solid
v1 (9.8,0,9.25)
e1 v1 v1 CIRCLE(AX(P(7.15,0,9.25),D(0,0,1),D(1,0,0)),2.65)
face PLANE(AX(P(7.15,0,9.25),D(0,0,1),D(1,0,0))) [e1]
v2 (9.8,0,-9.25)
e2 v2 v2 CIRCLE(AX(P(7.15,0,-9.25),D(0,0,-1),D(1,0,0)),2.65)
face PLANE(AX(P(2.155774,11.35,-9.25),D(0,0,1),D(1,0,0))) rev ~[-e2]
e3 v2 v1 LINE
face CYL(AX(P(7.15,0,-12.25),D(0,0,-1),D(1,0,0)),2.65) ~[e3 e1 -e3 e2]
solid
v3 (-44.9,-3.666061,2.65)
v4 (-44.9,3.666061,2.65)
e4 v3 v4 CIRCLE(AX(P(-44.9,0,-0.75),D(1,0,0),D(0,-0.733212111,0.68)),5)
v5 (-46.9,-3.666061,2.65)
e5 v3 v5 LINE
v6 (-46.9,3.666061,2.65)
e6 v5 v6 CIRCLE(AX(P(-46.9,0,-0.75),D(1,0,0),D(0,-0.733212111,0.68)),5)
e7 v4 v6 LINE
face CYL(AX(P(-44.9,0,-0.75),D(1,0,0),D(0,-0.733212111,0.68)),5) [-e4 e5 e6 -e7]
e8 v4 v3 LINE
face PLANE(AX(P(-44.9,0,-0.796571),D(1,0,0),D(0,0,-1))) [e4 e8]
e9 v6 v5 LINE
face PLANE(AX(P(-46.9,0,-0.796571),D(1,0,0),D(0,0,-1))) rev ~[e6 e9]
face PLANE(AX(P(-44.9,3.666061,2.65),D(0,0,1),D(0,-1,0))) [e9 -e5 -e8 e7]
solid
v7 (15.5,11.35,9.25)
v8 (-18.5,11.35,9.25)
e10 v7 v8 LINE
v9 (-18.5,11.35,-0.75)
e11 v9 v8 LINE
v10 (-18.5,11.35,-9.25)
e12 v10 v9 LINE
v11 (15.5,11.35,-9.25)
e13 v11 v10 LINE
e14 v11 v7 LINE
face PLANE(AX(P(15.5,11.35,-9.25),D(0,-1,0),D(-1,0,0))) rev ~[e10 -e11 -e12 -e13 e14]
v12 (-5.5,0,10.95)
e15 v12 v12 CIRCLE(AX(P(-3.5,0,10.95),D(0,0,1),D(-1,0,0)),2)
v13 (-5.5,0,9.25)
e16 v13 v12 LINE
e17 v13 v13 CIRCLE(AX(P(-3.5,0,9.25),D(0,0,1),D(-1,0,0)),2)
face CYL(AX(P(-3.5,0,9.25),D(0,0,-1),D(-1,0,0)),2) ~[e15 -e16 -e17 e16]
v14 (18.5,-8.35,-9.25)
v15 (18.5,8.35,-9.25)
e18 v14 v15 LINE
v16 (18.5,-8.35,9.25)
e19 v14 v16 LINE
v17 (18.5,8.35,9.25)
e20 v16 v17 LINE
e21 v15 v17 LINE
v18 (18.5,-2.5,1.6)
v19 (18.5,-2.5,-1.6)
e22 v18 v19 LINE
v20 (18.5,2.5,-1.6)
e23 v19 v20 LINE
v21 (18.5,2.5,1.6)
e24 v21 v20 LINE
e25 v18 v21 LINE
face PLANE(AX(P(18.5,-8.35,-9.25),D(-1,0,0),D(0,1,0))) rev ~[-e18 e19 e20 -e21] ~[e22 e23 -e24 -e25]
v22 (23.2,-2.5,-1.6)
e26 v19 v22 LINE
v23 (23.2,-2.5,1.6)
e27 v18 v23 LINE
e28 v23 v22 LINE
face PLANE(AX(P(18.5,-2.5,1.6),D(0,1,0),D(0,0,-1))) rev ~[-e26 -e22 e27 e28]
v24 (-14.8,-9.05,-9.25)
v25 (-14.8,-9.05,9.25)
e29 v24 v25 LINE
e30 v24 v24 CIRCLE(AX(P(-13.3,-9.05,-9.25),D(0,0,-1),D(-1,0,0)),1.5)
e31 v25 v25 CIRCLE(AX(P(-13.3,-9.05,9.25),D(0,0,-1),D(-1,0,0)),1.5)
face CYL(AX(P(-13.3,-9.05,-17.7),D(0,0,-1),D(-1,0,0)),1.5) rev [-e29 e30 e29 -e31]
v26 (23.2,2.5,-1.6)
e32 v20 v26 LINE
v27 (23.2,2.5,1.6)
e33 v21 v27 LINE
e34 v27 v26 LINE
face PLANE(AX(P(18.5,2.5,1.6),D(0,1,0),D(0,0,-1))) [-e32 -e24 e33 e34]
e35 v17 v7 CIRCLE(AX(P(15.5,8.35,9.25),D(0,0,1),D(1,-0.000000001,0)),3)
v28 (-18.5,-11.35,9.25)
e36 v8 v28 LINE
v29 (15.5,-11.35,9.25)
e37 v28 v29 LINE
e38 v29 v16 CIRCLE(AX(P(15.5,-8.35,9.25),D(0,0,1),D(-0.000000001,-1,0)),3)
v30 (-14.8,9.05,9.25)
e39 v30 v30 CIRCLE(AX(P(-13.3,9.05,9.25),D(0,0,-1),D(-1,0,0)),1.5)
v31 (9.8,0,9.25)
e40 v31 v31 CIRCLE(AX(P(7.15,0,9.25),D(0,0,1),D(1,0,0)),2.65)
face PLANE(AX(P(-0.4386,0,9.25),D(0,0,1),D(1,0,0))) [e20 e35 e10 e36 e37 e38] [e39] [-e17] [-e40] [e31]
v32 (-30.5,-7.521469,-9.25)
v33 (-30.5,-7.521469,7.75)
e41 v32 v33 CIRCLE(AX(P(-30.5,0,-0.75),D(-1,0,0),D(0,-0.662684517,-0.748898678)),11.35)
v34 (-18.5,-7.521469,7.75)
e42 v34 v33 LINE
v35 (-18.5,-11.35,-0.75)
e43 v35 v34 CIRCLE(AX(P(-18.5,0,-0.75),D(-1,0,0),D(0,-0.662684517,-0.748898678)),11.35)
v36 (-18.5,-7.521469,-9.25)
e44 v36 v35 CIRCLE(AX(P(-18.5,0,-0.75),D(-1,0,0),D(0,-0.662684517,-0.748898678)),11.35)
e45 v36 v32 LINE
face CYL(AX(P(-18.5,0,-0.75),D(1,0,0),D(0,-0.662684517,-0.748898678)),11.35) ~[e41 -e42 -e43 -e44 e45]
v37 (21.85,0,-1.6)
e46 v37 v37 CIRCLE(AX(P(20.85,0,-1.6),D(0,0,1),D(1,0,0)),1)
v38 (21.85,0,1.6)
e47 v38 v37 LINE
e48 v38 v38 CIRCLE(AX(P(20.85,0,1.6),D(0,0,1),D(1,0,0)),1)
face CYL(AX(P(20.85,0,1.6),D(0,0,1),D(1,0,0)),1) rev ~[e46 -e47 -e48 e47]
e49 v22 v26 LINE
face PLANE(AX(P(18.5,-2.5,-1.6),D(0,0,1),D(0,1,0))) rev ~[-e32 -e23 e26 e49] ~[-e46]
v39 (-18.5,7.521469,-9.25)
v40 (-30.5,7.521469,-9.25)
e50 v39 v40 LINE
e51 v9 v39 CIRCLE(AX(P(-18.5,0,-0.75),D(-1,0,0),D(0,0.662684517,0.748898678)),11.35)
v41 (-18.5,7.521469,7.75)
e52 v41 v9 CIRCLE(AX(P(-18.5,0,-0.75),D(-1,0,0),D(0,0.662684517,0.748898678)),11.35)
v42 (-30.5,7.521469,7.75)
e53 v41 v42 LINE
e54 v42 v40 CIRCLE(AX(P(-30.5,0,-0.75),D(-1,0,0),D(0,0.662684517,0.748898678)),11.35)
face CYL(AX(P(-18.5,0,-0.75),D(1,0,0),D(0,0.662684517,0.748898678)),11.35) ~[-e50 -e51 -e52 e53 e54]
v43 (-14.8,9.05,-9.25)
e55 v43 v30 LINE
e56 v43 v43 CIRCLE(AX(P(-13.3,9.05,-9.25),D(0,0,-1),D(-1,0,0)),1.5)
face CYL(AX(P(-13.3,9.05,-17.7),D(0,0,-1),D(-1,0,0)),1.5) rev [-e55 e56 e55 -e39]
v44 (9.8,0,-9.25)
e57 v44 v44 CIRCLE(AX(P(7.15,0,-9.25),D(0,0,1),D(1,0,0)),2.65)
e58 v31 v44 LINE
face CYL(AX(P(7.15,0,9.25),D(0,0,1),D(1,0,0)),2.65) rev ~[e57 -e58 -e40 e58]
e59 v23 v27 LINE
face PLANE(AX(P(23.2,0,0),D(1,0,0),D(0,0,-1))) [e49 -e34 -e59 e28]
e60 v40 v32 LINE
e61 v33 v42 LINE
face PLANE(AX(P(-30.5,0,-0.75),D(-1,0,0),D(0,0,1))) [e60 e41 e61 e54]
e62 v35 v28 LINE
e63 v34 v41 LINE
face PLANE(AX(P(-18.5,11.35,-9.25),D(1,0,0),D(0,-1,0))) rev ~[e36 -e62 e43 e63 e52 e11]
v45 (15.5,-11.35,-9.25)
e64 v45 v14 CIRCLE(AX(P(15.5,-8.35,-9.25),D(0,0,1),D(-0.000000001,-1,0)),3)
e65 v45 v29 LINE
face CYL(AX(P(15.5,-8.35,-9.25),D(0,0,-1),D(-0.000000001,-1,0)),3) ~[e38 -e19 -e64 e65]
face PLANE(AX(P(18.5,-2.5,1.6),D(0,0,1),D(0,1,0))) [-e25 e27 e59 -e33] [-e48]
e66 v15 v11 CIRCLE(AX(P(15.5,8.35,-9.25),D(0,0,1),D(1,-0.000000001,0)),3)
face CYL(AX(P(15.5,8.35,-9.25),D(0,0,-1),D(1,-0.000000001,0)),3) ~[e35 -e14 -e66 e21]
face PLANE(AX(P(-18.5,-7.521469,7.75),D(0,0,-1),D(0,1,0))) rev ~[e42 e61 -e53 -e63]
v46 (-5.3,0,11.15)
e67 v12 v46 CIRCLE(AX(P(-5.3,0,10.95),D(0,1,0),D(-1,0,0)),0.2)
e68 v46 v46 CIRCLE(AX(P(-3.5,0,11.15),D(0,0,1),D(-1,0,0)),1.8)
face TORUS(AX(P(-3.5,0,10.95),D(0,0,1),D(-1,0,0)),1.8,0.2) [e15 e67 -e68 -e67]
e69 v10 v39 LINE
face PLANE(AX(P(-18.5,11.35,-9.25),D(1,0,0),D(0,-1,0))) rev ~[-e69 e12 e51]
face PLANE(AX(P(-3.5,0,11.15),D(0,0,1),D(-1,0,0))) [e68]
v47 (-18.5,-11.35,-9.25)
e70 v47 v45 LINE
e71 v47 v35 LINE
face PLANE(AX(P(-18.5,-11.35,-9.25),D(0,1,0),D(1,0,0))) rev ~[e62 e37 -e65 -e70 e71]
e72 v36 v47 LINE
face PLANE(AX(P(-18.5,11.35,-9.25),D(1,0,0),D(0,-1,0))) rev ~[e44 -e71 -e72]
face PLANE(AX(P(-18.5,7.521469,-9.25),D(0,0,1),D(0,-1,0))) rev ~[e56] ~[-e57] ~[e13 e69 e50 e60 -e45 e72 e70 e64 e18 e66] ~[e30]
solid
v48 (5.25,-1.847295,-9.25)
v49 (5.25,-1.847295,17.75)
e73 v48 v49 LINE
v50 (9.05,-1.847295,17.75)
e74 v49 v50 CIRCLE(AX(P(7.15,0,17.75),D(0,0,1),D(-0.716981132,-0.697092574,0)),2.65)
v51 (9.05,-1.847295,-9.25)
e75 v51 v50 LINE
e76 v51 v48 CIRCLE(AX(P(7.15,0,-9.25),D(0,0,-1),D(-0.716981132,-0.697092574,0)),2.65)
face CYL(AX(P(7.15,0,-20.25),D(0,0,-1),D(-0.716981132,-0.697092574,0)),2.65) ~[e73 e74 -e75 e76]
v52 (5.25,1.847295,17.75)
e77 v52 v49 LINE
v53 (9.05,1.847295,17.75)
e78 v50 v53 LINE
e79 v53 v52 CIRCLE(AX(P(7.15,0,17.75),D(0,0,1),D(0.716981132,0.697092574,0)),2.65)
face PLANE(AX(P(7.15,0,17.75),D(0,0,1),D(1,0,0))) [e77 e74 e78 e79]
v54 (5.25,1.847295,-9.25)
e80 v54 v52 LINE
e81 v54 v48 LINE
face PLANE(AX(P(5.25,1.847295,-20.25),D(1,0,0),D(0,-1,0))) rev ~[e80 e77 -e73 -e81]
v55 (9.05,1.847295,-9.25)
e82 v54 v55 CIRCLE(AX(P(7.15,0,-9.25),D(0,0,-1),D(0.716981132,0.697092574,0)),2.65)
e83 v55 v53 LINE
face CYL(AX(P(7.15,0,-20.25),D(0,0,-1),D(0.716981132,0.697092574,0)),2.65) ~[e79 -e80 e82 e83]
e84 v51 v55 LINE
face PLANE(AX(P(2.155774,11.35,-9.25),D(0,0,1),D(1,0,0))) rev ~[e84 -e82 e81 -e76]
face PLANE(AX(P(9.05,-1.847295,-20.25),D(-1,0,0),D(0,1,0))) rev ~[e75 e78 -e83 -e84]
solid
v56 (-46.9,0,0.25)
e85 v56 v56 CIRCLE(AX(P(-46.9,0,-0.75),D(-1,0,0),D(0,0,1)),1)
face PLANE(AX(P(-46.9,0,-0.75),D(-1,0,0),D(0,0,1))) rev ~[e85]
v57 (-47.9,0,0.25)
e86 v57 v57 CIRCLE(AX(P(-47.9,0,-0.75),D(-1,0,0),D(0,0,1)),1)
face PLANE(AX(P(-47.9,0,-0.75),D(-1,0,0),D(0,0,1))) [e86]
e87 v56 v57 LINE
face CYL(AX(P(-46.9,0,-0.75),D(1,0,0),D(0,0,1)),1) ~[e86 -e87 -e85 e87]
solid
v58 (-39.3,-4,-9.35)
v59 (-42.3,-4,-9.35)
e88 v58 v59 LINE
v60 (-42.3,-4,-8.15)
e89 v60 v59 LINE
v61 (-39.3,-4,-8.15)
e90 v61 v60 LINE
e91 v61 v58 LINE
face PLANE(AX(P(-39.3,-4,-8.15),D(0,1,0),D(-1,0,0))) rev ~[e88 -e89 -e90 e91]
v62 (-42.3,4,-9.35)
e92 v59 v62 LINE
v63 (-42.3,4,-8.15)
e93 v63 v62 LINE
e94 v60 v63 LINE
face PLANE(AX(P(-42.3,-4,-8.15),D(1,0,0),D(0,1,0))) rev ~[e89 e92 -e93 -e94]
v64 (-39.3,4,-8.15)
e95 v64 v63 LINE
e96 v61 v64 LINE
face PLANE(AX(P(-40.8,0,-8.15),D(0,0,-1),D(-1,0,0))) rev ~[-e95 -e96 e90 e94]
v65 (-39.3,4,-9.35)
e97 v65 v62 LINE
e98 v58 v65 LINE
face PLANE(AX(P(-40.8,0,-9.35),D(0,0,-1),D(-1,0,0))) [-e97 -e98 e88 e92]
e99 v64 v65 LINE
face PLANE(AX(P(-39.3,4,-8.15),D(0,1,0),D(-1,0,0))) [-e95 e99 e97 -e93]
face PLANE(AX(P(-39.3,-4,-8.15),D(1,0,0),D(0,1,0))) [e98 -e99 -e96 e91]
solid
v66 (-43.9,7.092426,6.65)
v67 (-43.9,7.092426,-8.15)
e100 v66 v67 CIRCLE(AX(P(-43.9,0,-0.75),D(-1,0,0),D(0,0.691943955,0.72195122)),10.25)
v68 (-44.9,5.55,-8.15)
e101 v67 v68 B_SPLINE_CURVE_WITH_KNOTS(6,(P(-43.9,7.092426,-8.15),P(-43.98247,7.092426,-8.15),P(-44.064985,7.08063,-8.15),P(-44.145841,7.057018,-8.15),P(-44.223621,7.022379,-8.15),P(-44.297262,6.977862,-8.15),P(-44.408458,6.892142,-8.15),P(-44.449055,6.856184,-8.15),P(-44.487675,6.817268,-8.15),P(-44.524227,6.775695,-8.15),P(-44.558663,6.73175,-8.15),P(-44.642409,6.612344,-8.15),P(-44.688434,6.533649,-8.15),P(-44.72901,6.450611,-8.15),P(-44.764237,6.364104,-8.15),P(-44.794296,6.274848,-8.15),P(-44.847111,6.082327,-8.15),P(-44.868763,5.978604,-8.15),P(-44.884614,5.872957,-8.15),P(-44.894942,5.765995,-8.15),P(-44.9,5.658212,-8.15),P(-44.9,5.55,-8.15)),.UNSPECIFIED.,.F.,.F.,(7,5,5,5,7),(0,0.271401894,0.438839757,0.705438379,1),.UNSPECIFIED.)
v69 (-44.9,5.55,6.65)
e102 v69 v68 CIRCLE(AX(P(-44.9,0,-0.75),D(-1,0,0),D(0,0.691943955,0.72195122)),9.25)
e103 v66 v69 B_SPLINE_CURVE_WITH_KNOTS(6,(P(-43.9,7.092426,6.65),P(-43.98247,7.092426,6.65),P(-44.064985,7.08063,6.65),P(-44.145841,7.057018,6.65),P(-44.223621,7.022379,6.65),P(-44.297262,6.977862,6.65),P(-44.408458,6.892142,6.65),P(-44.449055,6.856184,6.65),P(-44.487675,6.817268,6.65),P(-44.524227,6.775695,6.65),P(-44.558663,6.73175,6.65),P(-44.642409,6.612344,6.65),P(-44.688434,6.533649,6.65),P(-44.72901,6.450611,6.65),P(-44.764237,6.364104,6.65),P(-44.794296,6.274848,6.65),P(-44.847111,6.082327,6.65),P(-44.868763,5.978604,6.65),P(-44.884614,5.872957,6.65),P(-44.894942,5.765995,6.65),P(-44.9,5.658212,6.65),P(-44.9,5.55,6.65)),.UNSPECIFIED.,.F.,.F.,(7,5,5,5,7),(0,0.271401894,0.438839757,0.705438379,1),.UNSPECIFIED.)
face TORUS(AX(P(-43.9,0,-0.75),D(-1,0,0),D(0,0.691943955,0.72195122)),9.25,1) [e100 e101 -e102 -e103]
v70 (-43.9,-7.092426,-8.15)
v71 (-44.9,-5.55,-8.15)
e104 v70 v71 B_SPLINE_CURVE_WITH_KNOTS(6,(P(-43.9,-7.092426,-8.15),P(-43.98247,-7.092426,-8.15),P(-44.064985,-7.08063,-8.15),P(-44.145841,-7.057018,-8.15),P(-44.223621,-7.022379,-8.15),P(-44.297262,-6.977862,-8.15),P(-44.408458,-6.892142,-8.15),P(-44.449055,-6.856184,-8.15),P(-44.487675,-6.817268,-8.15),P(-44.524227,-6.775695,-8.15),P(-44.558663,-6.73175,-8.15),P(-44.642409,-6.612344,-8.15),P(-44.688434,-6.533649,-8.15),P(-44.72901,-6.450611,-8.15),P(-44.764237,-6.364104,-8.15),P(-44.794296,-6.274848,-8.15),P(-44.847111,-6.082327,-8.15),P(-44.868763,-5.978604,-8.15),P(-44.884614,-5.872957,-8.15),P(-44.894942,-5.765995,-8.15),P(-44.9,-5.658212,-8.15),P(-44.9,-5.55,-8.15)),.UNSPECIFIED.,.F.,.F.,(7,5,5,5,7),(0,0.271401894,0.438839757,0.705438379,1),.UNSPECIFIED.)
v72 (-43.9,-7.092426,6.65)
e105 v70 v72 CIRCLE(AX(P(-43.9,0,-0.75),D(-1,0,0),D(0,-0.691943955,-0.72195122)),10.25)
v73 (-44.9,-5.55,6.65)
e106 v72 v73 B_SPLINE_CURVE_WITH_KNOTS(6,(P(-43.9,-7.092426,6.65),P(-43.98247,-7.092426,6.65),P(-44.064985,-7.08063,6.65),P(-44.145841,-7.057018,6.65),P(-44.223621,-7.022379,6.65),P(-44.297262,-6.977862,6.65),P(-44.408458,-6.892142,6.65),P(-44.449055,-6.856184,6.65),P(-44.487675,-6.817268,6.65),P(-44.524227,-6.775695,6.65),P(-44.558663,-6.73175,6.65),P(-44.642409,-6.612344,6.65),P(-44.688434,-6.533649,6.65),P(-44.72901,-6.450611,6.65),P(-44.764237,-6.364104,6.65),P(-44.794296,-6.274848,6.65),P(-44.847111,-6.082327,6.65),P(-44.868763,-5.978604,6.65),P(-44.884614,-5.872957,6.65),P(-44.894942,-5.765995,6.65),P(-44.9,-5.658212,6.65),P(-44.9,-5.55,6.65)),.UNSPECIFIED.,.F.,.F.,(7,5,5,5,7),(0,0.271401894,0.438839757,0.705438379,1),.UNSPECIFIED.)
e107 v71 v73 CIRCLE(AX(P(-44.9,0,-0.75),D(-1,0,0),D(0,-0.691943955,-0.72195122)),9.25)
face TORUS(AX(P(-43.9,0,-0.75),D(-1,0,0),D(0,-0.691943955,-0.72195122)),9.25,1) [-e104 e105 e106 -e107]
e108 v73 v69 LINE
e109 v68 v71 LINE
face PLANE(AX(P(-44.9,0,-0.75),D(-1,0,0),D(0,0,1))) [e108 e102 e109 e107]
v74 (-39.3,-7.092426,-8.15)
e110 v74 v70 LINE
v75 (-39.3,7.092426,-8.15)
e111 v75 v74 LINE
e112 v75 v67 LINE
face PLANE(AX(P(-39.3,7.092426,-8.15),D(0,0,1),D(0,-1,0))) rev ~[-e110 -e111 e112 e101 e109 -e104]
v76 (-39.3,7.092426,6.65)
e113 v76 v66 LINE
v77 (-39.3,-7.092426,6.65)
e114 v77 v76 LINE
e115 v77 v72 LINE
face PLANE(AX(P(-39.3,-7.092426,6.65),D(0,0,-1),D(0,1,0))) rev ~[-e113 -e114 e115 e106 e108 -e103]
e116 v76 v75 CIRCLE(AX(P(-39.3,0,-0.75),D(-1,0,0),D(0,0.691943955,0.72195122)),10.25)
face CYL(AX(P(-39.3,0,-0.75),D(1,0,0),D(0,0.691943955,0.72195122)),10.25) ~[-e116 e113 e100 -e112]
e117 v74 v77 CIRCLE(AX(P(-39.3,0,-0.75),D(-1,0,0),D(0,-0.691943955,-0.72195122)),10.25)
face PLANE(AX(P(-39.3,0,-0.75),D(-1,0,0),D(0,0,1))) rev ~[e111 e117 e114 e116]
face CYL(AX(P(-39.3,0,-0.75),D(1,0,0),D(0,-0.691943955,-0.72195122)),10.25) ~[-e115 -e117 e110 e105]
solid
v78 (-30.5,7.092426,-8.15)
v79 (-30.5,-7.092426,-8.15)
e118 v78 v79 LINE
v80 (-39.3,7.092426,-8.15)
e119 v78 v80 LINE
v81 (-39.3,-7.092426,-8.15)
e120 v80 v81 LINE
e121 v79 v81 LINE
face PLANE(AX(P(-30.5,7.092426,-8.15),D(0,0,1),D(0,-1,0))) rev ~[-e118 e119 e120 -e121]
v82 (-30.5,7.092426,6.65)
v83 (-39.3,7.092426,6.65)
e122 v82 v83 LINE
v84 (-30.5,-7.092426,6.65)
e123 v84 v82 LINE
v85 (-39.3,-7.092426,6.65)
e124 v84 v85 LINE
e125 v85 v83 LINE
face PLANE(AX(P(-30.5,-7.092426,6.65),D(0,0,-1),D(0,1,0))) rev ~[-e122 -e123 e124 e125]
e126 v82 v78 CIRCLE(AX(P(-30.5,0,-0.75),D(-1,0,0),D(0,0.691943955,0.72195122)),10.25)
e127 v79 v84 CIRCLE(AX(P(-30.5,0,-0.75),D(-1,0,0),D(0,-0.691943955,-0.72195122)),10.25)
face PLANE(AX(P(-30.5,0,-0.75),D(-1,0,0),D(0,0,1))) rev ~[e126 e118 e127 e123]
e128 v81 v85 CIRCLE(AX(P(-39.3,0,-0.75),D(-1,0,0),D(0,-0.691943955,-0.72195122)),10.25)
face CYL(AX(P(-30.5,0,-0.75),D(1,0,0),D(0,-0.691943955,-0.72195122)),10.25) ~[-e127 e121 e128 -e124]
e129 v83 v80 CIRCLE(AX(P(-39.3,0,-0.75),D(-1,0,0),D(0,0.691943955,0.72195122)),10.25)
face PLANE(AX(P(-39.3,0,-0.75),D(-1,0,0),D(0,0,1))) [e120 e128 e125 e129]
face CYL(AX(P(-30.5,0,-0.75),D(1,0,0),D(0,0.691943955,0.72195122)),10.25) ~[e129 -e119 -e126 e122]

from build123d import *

# Parameters (mm, degrees)
SALIENTE_EXTRUIR1_DEPTH       = 9.25
SALIENTE_EXTRUIR1_DEPTH_BACK  = 9.25
SALIENTE_EXTRUIR2_DEPTH       = 12
CROQUIS3_W                    = 3.2
CROQUIS3_H                    = 5
SALIENTE_EXTRUIR3_DEPTH       = 4.7
CORTAR_EXTRUIR1_DEPTH         = 28
CORTAR_EXTRUIR1_DEPTH_BACK    = 17.7
CROQUIS4_R                    = 1.5
CROQUIS5_R                    = 2
SALIENTE_EXTRUIR4_DEPTH       = 1.9
REDONDEO1_R                   = 0.2
CROQUIS6_R                    = 2.65
CORTAR_EXTRUIR2_DEPTH         = 23.9
SALIENTE_EXTRUIR5_DEPTH       = 8.8
SALIENTE_EXTRUIR6_DEPTH       = 5.6
REDONDEO2_R                   = 1
SALIENTE_EXTRUIR7_DEPTH       = 2
CROQUIS12_R                   = 1
SALIENTE_EXTRUIR8_DEPTH       = 1
CROQUIS13_W                   = 3
CROQUIS13_H                   = 8
SALIENTE_EXTRUIR9_DEPTH       = 1.2
CROQUIS14_R                   = 1
CORTAR_EXTRUIR3_DEPTH         = 4.2
SALIENTE_EXTRUIR10_DEPTH      = 17.75
SALIENTE_EXTRUIR10_DEPTH_BACK = 20.25
SALIENTE_EXTRUIR11_DEPTH      = 9.25
SALIENTE_EXTRUIR11_DEPTH_BACK = 12.25
CROQUIS16_R                   = 2.65
SKETCH_1_W                    = 9.867369552
SKETCH_1_H                    = 12.675768788
CUT_EXTRUDE_1_DEPTH           = 32


with BuildPart() as part:
    # Croquis1 → Saliente-Extruir1 (new, two sides: drawn at the far end of the back side and taken through both)
    with BuildSketch(Plane.XY.offset(-SALIENTE_EXTRUIR1_DEPTH_BACK)):
        with BuildLine():
            Line((-18.5, -11.35), (15.5, -11.35))
            ThreePointArc((15.5, -11.35), (17.621320344, -10.471320344), (18.5, -8.35))
            Line((18.5, -8.35), (18.5, 8.35))
            ThreePointArc((18.5, 8.35), (17.621320344, 10.471320344), (15.5, 11.35))
            Line((15.5, 11.35), (-18.5, 11.35))
            Line((-18.5, 11.35), (-18.5, -11.35))
        make_face()
    extrude(amount=SALIENTE_EXTRUIR1_DEPTH + SALIENTE_EXTRUIR1_DEPTH_BACK)

    # Croquis2 → Saliente-Extruir2 (add)
    with BuildSketch(Plane.ZY.offset(18.5)):
        with BuildLine():
            Line((7.75, -7.521469271), (7.75, 7.521469271))
            ThreePointArc((7.75, 7.521469271), (-0.75, 11.35), (-9.25, 7.521469271))
            Line((-9.25, 7.521469271), (-9.25, -7.521469271))
            ThreePointArc((-9.25, -7.521469271), (-0.75, -11.35), (7.75, -7.521469271))
        make_face()
    extrude(amount=SALIENTE_EXTRUIR2_DEPTH)

    # Croquis3 → Saliente-Extruir3 (add)
    with BuildSketch(Plane(origin=(18.5, 0, 0), x_dir=(0, 0, -1), z_dir=(1, 0, 0))):
        Rectangle(CROQUIS3_W, CROQUIS3_H)
    extrude(amount=SALIENTE_EXTRUIR3_DEPTH)

    # Croquis4 → Cortar-Extruir1 (cut, two sides: drawn at the far end of the back side and taken through both)
    with BuildSketch(Plane.XY.offset(-CORTAR_EXTRUIR1_DEPTH_BACK)):
        with Locations(Location((-13.3, 9.05, 0), (0, 0, 180))):
            Circle(CROQUIS4_R)
        with Locations(Location((-13.3, -9.05, 0), (0, 0, 180))):
            Circle(CROQUIS4_R)
    extrude(amount=CORTAR_EXTRUIR1_DEPTH + CORTAR_EXTRUIR1_DEPTH_BACK, mode=Mode.SUBTRACT)

    # Croquis5 → Saliente-Extruir4 (add)
    with BuildSketch(Plane.XY.offset(9.25)):
        with Locations(Location((-3.5, 0, 0), (0, 0, 180))):
            Circle(CROQUIS5_R)
    extrude(amount=SALIENTE_EXTRUIR4_DEPTH)

    # Redondeo1
    redondeo1_edges = [part.edges().sort_by_distance(p)[0] for p in [
        (-1.5, 0, 11.15),
    ]]
    fillet(redondeo1_edges, radius=REDONDEO1_R)

    # Croquis6 → Cortar-Extruir2 (cut)
    with BuildSketch(Plane.XY.offset(9.25)):
        with Locations((7.15, 0)):
            Circle(CROQUIS6_R)
    extrude(amount=-CORTAR_EXTRUIR2_DEPTH, mode=Mode.SUBTRACT)

    # Croquis14 → Cortar-Extruir3 (cut)
    with BuildSketch(Plane.XY.offset(1.6)):
        with Locations((20.85, 0)):
            Circle(CROQUIS14_R)
    extrude(amount=-CORTAR_EXTRUIR3_DEPTH, mode=Mode.SUBTRACT)


with BuildPart() as body_2:
    # Croquis9 → Saliente-Extruir5 (new body)
    with BuildSketch(Plane.ZY.offset(30.5)):
        with BuildLine():
            Line((6.65, -7.092425537), (6.65, 7.092425537))
            ThreePointArc((6.65, 7.092425537), (-0.75, 10.25), (-8.15, 7.092425537))
            Line((-8.15, 7.092425537), (-8.15, -7.092425537))
            ThreePointArc((-8.15, -7.092425537), (-0.75, -10.25), (6.65, -7.092425537))
        make_face()
    extrude(amount=SALIENTE_EXTRUIR5_DEPTH)


with BuildPart() as body_3:
    # Croquis10 → Saliente-Extruir6 (new body)
    with BuildSketch(Plane.ZY.offset(39.3)):
        with BuildLine():
            Line((-8.15, 7.092425537), (-8.15, -7.092425537))
            ThreePointArc((-8.15, -7.092425537), (-0.75, -10.25), (6.65, -7.092425537))
            Line((6.65, -7.092425537), (6.65, 7.092425537))
            ThreePointArc((6.65, 7.092425537), (-0.75, 10.25), (-8.15, 7.092425537))
        make_face()
    extrude(amount=SALIENTE_EXTRUIR6_DEPTH)

    # Redondeo2
    redondeo2_edges = [body_3.edges().sort_by_distance(p)[0] for p in [
        (-44.9, -10.25, -0.75),
        (-44.9, 10.25, -0.75),
    ]]
    fillet(redondeo2_edges, radius=REDONDEO2_R)


with BuildPart() as body_4:
    # Croquis11 → Saliente-Extruir7 (new body)
    with BuildSketch(Plane.ZY.offset(44.9)):
        with BuildLine():
            Line((2.65, 3.666060556), (2.65, -3.666060556))
            ThreePointArc((2.65, -3.666060556), (-5.75, 0), (2.65, 3.666060556))
        make_face()
    extrude(amount=SALIENTE_EXTRUIR7_DEPTH)


with BuildPart() as body_5:
    # Croquis12 → Saliente-Extruir8 (new body)
    with BuildSketch(Plane.ZY.offset(46.9)):
        with Locations((-0.75, 0)):
            Circle(CROQUIS12_R)
    extrude(amount=SALIENTE_EXTRUIR8_DEPTH)


with BuildPart() as body_6:
    # Croquis13 → Saliente-Extruir9 (new body)
    with BuildSketch(Plane(origin=(0, 0, -8.15), x_dir=(-1, 0, 0), z_dir=(0, 0, -1))):
        with Locations((40.8, 0)):
            Rectangle(CROQUIS13_W, CROQUIS13_H)
    extrude(amount=SALIENTE_EXTRUIR9_DEPTH)


with BuildPart() as body_7:
    # Croquis15 → Saliente-Extruir10 (new, two sides: drawn at the far end of the back side and taken through both)
    with BuildSketch(Plane.XY.offset(-SALIENTE_EXTRUIR10_DEPTH_BACK)):
        with BuildLine():
            Line((9.05, -1.84729532), (9.05, 1.84729532))
            ThreePointArc((9.05, 1.84729532), (7.15, 2.65), (5.25, 1.84729532))
            Line((5.25, 1.84729532), (5.25, -1.84729532))
            ThreePointArc((5.25, -1.84729532), (7.15, -2.65), (9.05, -1.84729532))
        make_face()
    extrude(amount=SALIENTE_EXTRUIR10_DEPTH + SALIENTE_EXTRUIR10_DEPTH_BACK)


with BuildPart() as body_8:
    # Croquis16 → Saliente-Extruir11 (new, two sides: drawn at the far end of the back side and taken through both)
    with BuildSketch(Plane.XY.offset(-SALIENTE_EXTRUIR11_DEPTH_BACK)):
        with Locations((7.15, 0)):
            Circle(CROQUIS16_R)
    extrude(amount=SALIENTE_EXTRUIR11_DEPTH + SALIENTE_EXTRUIR11_DEPTH_BACK)


with BuildPart() as cut_extrude_1_tool:
    # 草图1 → 切除-拉伸1 (new body)
    with BuildSketch(Plane(origin=(0, 11.35, 0), x_dir=(1, 0, 0), z_dir=(0, 1, 0))):
        with Locations((7.089458597, 15.587884394)):
            Rectangle(SKETCH_1_W, SKETCH_1_H)
    extrude(amount=-CUT_EXTRUDE_1_DEPTH)


with BuildPart() as body_7_1:
    add(body_7.part)

    # 切除-拉伸1: cut by cut_extrude_1_tool
    add(cut_extrude_1_tool.part, mode=Mode.SUBTRACT)


with BuildPart() as body_8_1:
    add(body_8.part)

    # 切除-拉伸1: cut by cut_extrude_1_tool
    add(cut_extrude_1_tool.part, mode=Mode.SUBTRACT)


solid = Compound([part.part, body_2.part, body_3.part, body_4.part, body_5.part, body_6.part, body_7_1.part, body_8_1.part])
